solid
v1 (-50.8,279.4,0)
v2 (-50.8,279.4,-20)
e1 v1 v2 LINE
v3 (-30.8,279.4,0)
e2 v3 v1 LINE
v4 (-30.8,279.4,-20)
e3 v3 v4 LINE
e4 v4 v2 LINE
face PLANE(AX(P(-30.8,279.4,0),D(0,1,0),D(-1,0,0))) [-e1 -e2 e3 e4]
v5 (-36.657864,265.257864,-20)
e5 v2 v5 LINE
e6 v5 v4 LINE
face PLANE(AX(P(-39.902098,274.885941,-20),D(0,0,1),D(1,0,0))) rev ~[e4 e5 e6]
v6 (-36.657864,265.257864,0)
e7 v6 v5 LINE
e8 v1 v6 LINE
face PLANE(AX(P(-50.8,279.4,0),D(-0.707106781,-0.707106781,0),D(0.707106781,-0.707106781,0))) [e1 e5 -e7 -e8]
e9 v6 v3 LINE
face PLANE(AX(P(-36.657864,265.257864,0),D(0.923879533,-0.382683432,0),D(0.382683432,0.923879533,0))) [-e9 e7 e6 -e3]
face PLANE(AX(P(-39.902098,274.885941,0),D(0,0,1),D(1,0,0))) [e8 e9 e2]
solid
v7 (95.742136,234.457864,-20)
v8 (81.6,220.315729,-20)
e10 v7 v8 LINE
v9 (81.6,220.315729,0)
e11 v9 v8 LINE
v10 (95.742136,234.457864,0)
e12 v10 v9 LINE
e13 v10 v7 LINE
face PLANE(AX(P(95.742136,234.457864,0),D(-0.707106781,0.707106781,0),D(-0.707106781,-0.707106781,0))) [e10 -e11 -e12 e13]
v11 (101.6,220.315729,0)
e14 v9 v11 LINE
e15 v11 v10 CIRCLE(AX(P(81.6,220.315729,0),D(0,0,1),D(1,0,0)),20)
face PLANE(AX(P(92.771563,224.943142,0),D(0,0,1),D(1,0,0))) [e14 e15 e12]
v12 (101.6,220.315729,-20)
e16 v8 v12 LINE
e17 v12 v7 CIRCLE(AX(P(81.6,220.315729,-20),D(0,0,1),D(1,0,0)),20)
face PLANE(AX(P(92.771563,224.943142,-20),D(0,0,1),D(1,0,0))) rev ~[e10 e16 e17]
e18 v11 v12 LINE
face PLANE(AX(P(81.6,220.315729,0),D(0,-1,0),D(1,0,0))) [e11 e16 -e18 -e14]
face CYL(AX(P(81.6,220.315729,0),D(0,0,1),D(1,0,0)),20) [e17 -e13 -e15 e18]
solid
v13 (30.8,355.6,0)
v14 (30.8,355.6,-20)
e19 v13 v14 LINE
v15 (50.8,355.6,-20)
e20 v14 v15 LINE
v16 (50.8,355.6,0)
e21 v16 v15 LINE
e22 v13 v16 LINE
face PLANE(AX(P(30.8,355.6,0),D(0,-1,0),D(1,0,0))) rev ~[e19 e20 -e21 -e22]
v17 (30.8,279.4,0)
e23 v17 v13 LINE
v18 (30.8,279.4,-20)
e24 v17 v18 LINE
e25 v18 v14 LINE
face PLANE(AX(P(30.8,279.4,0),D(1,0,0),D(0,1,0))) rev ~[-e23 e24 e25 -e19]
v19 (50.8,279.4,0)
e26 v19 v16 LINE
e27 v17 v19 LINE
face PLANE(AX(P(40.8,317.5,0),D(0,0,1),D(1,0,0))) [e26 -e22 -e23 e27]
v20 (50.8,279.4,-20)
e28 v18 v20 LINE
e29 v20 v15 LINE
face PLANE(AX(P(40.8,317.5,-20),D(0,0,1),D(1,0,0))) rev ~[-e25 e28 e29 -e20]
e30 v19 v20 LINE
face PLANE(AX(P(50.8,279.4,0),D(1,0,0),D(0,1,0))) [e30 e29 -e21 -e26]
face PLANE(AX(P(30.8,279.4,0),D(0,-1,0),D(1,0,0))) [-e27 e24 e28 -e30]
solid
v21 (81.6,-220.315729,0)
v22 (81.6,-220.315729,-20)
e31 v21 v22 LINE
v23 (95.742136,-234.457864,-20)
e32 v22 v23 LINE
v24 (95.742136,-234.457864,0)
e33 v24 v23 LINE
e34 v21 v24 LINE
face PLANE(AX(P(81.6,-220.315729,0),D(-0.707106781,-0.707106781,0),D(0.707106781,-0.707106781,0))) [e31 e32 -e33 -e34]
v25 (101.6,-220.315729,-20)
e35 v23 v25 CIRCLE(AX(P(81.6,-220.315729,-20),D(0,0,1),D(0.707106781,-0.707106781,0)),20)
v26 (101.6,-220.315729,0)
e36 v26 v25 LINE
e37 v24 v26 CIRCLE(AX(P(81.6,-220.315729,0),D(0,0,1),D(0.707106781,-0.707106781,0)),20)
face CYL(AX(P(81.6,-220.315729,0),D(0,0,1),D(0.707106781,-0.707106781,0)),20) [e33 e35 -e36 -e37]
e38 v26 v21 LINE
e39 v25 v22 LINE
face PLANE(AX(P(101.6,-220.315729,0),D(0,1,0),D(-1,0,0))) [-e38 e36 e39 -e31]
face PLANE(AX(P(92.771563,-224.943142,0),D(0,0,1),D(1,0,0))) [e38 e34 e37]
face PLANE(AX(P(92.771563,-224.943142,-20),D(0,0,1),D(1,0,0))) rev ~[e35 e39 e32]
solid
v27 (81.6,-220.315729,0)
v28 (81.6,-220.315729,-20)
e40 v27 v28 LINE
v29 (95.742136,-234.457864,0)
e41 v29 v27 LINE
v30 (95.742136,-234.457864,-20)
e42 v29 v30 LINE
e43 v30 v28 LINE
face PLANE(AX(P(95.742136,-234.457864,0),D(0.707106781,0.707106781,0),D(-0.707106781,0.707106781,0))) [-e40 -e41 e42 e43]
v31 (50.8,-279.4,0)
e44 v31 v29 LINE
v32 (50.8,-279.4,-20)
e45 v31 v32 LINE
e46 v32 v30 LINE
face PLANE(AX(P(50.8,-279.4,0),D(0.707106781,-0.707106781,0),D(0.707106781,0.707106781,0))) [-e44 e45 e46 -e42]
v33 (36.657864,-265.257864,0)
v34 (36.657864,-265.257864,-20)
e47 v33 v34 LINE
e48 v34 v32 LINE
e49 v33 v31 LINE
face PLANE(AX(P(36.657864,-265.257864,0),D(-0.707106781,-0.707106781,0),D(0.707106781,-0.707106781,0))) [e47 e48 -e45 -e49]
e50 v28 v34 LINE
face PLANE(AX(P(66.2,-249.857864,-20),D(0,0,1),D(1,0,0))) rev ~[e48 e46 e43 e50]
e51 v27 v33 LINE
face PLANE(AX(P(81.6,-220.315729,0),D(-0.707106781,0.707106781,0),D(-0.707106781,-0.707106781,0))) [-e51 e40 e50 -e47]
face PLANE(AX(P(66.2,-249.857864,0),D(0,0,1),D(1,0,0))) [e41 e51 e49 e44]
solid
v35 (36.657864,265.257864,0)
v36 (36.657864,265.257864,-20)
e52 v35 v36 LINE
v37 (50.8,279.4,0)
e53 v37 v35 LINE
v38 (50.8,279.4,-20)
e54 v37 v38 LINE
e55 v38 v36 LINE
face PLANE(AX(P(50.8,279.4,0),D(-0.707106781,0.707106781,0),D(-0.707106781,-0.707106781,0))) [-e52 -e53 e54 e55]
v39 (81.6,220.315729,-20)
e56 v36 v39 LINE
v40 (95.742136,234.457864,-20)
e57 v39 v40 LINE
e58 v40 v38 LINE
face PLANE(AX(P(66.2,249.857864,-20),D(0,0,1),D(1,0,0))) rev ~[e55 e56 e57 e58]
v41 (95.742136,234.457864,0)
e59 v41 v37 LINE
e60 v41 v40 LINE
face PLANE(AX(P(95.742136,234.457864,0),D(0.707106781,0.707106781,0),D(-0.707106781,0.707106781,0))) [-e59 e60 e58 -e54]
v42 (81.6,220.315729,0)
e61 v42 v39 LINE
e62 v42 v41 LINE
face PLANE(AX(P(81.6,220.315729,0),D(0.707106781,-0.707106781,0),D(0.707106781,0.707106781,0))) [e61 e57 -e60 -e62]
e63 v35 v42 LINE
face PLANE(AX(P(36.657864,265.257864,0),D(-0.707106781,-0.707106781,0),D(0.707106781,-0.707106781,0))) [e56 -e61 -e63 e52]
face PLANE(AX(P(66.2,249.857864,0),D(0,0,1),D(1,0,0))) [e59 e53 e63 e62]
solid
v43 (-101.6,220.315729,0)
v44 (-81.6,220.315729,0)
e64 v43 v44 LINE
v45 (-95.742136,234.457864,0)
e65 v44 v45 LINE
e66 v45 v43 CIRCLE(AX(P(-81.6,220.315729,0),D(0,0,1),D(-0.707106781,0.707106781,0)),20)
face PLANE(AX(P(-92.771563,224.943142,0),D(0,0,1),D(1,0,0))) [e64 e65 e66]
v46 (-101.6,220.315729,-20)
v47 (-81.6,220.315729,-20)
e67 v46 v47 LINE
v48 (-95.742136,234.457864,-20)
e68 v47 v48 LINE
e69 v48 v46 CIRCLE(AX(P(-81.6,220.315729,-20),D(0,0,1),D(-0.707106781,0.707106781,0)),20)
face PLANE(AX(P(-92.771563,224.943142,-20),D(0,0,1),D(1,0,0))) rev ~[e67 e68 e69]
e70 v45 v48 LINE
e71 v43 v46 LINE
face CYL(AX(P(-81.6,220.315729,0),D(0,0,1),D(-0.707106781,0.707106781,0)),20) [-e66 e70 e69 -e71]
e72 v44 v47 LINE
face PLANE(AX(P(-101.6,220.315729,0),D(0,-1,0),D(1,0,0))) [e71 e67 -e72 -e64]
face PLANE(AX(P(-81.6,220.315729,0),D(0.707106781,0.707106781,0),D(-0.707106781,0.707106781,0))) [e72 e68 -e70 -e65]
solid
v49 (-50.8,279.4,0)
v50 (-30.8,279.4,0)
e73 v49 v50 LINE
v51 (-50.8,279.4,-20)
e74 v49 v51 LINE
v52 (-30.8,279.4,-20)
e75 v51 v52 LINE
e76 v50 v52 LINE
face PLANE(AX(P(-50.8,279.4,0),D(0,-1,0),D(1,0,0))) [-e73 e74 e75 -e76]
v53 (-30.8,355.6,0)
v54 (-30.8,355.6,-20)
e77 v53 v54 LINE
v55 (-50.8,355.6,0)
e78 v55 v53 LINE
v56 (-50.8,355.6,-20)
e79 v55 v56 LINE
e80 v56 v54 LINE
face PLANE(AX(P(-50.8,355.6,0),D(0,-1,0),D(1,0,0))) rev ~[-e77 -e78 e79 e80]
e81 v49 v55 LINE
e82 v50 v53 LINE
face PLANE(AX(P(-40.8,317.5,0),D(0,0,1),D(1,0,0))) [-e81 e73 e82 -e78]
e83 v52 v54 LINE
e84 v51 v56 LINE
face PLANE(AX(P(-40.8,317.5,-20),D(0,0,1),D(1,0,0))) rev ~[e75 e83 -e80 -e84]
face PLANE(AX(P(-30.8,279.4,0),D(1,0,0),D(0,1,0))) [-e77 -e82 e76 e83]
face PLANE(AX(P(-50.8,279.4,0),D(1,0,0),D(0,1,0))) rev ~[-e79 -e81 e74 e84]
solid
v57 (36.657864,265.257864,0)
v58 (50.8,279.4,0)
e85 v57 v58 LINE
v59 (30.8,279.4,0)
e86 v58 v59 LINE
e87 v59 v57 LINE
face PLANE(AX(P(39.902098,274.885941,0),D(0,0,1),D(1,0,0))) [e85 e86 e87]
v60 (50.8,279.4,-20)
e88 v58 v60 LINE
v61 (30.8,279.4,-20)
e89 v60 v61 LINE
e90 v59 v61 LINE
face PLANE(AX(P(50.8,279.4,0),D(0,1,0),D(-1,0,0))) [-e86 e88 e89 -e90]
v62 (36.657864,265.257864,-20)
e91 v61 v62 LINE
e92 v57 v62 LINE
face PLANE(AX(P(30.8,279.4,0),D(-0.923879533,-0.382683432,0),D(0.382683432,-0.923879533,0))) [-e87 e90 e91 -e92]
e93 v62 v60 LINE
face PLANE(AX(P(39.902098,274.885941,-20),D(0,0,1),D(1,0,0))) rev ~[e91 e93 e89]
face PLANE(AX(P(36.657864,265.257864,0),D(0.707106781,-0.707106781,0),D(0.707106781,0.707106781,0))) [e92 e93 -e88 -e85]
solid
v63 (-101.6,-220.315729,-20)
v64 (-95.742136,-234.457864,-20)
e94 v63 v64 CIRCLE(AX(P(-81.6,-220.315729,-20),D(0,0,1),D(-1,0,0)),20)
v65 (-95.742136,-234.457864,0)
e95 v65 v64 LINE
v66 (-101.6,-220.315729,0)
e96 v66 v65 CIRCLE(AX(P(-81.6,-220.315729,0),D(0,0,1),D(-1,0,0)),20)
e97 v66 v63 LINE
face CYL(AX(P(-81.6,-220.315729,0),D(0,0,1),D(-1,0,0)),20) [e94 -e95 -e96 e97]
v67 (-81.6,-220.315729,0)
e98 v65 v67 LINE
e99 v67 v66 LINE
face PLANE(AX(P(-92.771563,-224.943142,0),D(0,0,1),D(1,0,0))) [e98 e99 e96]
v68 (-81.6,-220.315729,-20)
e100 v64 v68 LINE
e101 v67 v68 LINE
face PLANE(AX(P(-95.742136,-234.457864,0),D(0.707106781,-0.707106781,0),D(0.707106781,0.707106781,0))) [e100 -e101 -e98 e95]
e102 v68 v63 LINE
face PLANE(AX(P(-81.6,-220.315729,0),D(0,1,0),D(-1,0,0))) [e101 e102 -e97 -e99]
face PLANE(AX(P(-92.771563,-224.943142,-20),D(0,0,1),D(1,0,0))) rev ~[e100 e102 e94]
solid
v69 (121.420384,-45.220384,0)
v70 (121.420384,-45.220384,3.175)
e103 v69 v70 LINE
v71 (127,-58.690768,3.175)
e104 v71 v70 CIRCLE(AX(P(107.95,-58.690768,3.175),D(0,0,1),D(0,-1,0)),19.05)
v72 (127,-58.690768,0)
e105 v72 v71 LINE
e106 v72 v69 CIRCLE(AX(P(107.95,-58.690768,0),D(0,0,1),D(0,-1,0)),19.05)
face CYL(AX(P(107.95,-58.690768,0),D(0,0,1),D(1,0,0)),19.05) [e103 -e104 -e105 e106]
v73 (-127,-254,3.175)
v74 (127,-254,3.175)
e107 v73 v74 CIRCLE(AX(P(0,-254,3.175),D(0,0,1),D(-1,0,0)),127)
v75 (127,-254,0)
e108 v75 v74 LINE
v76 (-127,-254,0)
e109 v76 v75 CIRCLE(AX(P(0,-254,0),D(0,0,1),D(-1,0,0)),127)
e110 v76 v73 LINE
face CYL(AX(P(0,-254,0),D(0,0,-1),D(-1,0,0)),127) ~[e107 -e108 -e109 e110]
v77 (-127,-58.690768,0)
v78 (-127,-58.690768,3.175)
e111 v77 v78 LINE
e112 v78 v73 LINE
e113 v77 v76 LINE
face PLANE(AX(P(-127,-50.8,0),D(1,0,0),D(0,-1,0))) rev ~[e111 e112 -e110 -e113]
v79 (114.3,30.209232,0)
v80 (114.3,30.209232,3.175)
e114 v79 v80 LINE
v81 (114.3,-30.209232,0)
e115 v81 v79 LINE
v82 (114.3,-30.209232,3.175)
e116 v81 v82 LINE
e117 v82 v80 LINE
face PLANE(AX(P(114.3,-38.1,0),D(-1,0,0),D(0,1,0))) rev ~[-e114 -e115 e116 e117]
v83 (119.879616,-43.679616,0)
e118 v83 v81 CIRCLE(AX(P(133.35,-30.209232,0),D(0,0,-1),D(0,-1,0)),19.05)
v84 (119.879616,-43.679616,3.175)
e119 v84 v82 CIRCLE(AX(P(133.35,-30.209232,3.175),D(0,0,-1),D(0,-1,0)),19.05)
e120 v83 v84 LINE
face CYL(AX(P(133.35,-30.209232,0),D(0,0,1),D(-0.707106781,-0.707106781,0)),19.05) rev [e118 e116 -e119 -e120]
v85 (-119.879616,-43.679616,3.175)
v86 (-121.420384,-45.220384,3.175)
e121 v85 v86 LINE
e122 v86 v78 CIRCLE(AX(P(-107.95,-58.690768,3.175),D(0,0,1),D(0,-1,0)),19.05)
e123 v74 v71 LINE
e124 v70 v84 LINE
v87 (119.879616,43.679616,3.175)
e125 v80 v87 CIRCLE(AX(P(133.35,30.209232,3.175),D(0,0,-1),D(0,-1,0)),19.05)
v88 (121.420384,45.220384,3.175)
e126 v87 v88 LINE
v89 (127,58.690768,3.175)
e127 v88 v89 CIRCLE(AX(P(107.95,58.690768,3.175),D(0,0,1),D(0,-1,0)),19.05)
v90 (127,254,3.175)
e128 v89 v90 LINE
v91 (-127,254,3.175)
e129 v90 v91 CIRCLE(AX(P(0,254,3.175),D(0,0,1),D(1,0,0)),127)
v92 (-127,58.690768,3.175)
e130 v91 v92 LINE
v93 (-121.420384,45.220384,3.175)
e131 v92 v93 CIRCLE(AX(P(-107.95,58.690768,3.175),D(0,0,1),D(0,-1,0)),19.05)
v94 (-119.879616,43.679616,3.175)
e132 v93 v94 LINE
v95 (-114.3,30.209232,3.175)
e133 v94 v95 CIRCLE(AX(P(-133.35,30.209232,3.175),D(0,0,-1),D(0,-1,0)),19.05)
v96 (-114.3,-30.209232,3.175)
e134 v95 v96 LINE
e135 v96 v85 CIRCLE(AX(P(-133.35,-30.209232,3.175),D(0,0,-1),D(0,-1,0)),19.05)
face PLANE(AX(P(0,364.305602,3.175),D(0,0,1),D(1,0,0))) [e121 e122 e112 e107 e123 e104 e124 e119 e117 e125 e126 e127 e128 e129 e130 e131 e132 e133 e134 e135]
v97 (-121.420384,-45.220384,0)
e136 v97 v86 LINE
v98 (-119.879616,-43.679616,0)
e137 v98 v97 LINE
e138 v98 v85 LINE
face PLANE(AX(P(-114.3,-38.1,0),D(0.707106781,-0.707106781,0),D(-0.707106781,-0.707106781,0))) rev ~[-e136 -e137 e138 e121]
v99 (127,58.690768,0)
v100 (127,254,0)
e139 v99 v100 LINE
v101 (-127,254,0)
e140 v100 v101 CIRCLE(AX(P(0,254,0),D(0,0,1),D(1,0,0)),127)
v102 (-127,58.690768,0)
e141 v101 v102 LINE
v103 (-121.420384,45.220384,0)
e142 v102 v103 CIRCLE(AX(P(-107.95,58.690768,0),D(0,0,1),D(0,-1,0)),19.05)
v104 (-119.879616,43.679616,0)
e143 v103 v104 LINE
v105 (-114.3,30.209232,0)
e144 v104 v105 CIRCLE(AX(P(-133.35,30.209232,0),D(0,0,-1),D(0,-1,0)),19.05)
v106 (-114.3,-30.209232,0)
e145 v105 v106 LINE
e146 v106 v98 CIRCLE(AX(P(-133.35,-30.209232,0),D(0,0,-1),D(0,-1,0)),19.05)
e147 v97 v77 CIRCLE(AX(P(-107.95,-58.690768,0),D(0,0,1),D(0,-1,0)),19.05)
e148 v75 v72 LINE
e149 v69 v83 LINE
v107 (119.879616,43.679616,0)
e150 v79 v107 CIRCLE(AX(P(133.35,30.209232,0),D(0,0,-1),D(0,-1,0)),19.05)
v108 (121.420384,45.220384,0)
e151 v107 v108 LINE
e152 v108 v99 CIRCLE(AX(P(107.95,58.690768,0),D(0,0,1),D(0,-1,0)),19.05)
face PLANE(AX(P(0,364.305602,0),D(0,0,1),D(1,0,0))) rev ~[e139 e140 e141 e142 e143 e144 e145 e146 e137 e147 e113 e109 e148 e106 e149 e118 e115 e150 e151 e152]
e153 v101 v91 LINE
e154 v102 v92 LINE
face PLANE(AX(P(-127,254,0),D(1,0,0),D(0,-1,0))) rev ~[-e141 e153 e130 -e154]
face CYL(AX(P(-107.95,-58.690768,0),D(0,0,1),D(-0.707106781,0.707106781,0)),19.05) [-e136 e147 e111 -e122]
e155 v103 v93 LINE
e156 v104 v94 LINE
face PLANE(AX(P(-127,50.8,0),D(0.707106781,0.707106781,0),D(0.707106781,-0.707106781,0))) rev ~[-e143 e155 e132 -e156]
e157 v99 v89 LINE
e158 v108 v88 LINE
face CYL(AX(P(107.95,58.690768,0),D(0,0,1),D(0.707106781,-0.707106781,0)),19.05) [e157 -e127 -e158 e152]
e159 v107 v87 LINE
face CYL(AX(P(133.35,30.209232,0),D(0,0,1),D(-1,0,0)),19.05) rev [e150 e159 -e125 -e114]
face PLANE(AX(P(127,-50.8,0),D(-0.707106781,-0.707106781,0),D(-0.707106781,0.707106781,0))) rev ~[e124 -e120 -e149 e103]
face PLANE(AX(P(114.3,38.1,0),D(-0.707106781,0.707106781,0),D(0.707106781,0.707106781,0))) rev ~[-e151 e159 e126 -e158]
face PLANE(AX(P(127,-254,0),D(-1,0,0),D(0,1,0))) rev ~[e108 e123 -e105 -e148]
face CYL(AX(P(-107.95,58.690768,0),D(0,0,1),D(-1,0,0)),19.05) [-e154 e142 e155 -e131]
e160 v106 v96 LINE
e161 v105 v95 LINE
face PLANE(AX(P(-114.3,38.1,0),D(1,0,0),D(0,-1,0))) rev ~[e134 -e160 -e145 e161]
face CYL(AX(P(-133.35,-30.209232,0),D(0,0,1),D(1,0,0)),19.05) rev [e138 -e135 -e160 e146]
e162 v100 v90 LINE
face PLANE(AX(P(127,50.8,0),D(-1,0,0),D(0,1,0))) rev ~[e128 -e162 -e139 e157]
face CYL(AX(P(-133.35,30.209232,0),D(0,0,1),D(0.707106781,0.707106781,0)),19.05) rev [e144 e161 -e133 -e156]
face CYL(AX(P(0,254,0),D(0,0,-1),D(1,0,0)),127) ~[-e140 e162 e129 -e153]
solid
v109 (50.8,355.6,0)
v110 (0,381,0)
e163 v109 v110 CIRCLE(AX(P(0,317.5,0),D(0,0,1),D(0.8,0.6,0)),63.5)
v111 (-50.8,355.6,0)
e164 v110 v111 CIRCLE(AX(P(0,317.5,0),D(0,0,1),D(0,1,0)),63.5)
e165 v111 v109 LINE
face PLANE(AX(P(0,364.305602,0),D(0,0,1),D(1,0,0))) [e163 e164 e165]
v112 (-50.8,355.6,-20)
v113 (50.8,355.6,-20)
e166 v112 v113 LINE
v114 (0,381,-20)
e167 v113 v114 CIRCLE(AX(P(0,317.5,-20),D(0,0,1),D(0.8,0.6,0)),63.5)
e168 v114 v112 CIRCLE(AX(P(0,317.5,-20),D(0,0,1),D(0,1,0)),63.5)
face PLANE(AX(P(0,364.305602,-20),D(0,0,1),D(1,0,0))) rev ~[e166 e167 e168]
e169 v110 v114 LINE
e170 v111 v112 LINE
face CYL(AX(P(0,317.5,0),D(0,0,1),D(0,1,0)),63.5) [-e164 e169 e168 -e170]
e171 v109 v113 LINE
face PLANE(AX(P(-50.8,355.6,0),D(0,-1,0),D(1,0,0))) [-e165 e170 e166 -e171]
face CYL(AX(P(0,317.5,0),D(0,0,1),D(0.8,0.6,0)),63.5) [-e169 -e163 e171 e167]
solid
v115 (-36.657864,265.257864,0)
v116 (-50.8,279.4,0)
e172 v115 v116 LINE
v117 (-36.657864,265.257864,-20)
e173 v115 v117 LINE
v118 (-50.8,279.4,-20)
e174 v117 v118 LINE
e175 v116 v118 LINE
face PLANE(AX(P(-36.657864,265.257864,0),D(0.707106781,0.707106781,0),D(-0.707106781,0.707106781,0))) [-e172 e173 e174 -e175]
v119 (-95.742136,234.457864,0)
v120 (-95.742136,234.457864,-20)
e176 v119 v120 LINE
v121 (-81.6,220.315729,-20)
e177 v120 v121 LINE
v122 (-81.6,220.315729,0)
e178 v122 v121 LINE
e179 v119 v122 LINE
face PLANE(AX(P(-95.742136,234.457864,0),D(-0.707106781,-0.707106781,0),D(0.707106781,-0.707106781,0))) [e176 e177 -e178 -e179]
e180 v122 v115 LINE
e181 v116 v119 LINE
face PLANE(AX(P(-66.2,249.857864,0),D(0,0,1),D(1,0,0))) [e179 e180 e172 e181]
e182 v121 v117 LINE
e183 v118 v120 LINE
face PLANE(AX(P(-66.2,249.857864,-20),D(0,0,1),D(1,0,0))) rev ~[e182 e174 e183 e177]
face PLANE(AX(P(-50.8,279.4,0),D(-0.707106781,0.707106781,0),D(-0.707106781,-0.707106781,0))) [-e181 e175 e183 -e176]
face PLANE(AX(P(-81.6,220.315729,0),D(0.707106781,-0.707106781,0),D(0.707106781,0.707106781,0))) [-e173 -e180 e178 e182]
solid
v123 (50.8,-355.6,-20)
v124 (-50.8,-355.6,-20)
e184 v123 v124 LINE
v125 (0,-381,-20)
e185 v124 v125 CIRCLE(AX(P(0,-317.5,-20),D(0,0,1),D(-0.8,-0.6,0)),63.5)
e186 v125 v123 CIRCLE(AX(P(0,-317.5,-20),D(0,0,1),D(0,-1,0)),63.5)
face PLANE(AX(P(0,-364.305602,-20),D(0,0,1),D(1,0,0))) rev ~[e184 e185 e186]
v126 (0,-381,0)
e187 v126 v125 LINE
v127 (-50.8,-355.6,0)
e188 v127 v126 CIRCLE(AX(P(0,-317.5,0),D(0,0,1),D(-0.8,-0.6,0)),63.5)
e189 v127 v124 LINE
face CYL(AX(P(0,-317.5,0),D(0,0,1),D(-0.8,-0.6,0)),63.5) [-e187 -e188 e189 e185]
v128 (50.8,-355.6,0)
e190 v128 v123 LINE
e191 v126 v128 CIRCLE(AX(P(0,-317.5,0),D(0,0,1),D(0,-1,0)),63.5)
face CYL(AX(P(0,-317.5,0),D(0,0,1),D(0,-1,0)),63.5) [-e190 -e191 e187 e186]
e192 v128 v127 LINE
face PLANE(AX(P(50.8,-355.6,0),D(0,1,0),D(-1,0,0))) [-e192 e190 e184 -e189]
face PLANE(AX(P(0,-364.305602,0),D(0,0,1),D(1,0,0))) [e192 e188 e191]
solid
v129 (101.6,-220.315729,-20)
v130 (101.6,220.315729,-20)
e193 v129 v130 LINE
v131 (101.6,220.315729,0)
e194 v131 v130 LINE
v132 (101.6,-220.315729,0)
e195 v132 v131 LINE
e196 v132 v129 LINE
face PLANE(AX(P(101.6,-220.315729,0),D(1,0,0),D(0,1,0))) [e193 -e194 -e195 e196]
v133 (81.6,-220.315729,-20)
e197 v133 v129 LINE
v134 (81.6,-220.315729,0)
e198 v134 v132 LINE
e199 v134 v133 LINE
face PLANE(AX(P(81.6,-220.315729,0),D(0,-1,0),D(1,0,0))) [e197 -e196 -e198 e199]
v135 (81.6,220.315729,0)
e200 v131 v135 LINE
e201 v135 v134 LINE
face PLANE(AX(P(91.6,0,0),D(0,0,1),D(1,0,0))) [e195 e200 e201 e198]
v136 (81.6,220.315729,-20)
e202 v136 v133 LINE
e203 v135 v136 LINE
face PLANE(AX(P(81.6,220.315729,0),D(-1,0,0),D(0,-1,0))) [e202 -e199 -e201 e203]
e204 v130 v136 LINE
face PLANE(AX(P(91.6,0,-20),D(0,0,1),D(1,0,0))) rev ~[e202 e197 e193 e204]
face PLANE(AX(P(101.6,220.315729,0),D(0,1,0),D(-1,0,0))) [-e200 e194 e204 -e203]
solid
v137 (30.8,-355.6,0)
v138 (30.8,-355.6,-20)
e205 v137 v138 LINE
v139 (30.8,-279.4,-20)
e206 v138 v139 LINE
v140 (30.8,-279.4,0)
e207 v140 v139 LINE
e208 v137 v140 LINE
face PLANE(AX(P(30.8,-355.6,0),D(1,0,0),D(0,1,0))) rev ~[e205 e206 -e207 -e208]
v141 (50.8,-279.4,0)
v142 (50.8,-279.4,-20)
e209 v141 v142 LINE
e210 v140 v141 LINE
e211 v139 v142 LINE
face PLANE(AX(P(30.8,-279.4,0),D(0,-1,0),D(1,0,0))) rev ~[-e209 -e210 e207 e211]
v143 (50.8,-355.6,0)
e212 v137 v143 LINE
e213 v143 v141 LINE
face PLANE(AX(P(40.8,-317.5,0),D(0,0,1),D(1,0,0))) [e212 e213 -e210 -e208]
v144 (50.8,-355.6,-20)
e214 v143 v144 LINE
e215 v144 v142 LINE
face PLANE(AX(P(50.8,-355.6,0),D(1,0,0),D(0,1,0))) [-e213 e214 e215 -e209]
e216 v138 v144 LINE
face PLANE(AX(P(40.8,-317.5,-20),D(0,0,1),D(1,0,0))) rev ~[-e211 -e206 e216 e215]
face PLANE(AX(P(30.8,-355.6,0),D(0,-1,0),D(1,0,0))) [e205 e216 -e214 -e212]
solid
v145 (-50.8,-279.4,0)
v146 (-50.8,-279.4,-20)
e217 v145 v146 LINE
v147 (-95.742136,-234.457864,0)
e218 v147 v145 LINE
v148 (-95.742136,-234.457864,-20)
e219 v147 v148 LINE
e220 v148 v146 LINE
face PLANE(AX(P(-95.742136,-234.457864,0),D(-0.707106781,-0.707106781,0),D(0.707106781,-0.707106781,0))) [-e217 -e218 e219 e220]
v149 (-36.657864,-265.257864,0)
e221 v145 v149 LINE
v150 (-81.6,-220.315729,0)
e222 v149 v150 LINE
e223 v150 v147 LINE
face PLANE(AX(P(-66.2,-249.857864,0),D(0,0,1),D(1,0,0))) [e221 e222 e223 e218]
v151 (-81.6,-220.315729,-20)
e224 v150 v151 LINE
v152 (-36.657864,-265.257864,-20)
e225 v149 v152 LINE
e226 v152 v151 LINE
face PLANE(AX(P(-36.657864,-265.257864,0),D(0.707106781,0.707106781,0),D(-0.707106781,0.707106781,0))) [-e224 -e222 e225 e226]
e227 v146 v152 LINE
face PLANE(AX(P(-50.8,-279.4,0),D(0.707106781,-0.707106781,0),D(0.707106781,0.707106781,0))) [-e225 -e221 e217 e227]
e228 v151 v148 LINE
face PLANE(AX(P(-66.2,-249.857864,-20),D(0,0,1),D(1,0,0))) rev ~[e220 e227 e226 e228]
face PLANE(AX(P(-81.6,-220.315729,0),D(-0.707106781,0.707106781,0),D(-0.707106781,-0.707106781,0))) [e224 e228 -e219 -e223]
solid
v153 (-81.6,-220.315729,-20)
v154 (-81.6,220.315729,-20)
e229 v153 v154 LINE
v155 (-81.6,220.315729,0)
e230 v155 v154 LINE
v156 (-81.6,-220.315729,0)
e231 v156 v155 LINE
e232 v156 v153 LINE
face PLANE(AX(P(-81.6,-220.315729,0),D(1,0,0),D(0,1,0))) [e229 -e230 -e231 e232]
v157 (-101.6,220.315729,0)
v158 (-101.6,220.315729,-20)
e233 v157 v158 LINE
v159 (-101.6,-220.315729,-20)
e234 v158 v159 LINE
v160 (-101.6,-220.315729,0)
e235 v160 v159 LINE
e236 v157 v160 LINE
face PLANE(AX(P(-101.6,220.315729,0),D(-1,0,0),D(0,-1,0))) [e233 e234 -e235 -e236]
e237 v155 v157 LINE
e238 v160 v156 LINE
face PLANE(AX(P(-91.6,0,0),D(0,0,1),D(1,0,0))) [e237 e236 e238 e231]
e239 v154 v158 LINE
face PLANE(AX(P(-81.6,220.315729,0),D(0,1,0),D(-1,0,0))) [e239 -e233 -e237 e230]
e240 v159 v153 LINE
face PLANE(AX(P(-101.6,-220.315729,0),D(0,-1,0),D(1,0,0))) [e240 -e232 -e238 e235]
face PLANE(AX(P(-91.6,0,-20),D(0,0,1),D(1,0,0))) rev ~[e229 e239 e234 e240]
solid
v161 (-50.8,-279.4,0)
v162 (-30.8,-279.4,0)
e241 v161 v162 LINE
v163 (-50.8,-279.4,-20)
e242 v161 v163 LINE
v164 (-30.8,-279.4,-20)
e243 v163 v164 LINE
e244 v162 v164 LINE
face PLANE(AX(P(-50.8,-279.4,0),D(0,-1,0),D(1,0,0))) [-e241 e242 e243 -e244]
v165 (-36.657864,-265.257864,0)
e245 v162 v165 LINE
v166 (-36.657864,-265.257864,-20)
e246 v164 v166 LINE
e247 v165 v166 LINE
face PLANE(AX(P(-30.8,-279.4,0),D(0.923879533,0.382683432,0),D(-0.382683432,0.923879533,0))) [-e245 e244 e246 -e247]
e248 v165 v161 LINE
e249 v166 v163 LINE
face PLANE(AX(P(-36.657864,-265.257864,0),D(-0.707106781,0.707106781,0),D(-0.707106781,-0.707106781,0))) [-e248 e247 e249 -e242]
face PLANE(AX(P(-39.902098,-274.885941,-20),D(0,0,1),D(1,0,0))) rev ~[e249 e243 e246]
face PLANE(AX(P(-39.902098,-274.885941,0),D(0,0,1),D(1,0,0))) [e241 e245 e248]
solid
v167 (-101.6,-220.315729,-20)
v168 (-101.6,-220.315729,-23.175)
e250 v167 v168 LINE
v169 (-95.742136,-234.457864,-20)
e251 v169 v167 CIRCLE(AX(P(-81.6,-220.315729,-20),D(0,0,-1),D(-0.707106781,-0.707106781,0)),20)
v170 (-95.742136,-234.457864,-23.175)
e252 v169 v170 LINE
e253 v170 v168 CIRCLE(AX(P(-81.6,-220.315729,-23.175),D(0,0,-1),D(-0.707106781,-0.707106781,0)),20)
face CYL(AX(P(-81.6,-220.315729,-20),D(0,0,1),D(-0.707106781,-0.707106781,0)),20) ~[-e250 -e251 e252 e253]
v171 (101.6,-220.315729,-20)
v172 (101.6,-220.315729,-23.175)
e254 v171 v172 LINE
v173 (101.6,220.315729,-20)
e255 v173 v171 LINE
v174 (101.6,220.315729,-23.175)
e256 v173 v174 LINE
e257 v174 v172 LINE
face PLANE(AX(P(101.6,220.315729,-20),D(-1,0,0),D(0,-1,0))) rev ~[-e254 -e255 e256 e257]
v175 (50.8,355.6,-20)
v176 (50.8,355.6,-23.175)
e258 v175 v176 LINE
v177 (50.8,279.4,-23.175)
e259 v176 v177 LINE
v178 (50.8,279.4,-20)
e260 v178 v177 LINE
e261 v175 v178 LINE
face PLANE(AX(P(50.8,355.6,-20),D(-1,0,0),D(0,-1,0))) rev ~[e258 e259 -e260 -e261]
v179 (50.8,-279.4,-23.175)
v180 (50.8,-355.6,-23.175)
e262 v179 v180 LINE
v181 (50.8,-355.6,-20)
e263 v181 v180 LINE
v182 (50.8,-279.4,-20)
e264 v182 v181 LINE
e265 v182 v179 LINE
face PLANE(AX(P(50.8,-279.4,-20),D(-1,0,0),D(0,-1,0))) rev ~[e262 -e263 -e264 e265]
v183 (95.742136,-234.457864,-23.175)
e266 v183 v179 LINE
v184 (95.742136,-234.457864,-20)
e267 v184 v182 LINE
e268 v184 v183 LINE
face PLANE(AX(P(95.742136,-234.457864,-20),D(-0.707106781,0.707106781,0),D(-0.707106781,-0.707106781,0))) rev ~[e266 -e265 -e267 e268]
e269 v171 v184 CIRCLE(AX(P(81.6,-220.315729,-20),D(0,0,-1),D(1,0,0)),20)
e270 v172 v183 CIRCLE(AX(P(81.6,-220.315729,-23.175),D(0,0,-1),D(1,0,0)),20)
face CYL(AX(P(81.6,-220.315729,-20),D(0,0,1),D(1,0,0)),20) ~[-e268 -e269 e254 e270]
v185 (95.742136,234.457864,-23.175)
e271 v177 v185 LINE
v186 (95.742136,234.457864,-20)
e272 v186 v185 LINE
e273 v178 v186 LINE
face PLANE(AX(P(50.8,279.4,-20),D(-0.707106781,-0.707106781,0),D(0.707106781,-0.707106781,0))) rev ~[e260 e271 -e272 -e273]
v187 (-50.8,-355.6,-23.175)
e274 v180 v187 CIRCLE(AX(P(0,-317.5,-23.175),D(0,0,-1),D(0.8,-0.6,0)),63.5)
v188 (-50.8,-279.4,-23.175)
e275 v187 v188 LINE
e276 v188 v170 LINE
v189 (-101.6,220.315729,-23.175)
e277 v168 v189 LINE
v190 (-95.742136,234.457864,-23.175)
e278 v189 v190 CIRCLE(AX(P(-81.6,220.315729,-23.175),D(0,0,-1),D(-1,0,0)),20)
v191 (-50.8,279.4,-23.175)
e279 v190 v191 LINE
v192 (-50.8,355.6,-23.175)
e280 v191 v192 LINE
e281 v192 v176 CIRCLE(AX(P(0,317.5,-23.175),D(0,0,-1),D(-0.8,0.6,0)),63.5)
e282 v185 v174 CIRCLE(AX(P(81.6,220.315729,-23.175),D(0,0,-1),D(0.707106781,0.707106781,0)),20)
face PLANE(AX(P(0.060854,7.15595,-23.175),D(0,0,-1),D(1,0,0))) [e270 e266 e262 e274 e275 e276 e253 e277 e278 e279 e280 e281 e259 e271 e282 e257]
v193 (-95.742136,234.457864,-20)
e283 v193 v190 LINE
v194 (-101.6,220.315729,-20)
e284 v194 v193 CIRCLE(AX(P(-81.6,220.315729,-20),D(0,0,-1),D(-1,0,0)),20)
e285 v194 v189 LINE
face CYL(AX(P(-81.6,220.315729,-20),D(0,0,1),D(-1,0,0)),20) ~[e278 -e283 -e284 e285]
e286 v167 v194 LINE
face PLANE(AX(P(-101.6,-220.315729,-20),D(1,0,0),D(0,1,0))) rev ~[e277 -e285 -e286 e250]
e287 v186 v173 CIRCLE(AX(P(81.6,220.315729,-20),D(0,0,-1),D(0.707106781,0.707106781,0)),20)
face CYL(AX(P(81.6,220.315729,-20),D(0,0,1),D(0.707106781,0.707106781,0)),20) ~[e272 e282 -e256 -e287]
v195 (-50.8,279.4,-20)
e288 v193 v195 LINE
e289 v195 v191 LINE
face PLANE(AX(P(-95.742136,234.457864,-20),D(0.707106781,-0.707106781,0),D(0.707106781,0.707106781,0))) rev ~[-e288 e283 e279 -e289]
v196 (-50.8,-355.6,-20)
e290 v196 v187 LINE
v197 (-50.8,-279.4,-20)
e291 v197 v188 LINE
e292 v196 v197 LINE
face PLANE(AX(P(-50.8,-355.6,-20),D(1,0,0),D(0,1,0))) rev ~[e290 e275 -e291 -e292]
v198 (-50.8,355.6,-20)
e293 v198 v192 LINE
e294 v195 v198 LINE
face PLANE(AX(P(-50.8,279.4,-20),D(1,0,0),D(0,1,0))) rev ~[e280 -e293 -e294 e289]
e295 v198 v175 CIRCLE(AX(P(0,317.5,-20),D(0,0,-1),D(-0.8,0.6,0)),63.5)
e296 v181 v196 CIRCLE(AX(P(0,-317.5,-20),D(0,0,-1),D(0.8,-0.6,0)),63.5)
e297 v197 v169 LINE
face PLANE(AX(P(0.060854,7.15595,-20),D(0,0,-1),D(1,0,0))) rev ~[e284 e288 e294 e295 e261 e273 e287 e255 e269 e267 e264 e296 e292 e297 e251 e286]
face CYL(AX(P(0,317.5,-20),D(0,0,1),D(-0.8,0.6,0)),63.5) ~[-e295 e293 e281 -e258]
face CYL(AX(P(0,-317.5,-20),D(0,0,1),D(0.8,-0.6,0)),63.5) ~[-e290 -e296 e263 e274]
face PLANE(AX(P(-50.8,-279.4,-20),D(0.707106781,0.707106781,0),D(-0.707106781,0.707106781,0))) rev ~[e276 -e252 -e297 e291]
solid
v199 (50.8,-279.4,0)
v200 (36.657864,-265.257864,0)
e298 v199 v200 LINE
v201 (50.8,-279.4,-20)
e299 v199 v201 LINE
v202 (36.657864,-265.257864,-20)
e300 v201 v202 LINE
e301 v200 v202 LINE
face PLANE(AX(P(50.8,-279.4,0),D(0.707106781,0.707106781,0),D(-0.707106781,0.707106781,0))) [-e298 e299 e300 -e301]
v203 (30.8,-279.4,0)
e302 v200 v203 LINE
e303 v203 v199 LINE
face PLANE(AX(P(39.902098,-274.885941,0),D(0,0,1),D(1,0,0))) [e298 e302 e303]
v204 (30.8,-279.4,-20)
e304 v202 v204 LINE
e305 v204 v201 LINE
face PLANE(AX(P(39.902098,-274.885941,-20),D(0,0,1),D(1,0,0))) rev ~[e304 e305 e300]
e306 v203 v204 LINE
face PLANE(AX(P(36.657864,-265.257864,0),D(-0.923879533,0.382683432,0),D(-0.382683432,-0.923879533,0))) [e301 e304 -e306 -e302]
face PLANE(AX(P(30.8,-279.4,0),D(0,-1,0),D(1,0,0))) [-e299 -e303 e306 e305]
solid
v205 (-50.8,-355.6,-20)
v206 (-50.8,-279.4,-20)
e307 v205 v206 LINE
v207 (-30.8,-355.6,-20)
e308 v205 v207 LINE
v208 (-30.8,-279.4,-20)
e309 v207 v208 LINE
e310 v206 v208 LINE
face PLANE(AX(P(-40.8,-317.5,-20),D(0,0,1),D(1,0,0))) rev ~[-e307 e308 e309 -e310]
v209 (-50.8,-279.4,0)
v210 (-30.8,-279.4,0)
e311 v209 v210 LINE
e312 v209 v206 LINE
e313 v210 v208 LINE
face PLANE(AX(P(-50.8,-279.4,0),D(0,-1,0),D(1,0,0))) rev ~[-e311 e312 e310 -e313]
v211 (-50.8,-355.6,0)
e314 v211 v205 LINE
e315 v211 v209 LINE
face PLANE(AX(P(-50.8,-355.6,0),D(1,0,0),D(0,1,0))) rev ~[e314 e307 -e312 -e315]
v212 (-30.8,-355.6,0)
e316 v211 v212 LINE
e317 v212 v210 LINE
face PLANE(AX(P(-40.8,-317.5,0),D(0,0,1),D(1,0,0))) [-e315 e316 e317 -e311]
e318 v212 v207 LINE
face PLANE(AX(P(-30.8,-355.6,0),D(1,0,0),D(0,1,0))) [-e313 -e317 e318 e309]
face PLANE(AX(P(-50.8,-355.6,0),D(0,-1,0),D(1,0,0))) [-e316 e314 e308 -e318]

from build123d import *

# Parameters (mm, degrees)
F0_W     = 20
F0_H     = 76.2
F1_DEPTH = 3.175
F2_DEPTH = 20
F3_DEPTH = 20
F4_R     = 19.05
F5_W     = 20
F5_H     = 76.2
F6_DEPTH = 3.175


with BuildPart() as f1:
    # F0 (on Top) → F1 (new body)
    with BuildSketch(Plane.XY):
        with BuildLine():
            ThreePointArc((0, 381), (-28.3980633142, 374.2961266285), (-50.8, 355.6))
            Line((-50.8, 355.6), (-30.8, 355.6))
            Line((-30.8, 355.6), (30.8, 355.6))
            Line((30.8, 355.6), (50.8, 355.6))
            ThreePointArc((50.8, 355.6), (28.3980633142, 374.2961266285), (0, 381))
        make_face()
        with BuildLine():
            Line((-50.8, 279.4), (-50.8, 355.6))
            ThreePointArc((-50.8, 355.6), (-28.3980633142, 374.2961266285), (0, 381))
            ThreePointArc((0, 381), (-89.8025612107, 343.8025612107), (-127, 254))
            Line((-127, 254), (-127, 50.8))
            Line((-127, 50.8), (-114.3, 38.1))
            Line((-114.3, 38.1), (-114.3, 0))
            Line((-114.3, 0), (-114.3, -38.1))
            Line((-114.3, -38.1), (-127, -50.8))
            Line((-127, -50.8), (-127, -254))
            ThreePointArc((-127, -254), (-89.8025612107, -343.8025612107), (0, -381))
            ThreePointArc((0, -381), (-28.3980633142, -374.2961266285), (-50.8, -355.6))
            Line((-50.8, -355.6), (-50.8, -279.4))
            Line((-50.8, -279.4), (-95.7421356237, -234.4578643763))
            ThreePointArc((-95.7421356237, -234.4578643763), (-100.0775906502, -227.9693973998), (-101.6, -220.3157287525))
            Line((-101.6, -220.3157287525), (-101.6, 0))
            Line((-101.6, 0), (-101.6, 220.3157287525))
            ThreePointArc((-101.6, 220.3157287525), (-100.0775906502, 227.9693973998), (-95.7421356237, 234.4578643763))
            Line((-95.7421356237, 234.4578643763), (-50.8, 279.4))
        make_face()
        with BuildLine():
            ThreePointArc((127, 254), (89.8025612107, 343.8025612107), (0, 381))
            ThreePointArc((0, 381), (28.3980633142, 374.2961266285), (50.8, 355.6))
            Line((50.8, 355.6), (50.8, 279.4))
            Line((50.8, 279.4), (95.7421356237, 234.4578643763))
            ThreePointArc((95.7421356237, 234.4578643763), (100.0775906502, 227.9693973998), (101.6, 220.3157287525))
            Line((101.6, 220.3157287525), (101.6, 0))
            Line((101.6, 0), (101.6, -220.3157287525))
            ThreePointArc((101.6, -220.3157287525), (100.0775906502, -227.9693973998), (95.7421356237, -234.4578643763))
            Line((95.7421356237, -234.4578643763), (50.8, -279.4))
            Line((50.8, -279.4), (50.8, -355.6))
            ThreePointArc((50.8, -355.6), (28.3980633142, -374.2961266285), (0, -381))
            ThreePointArc((0, -381), (89.8025612107, -343.8025612107), (127, -254))
            Line((127, -254), (127, -50.8))
            Line((127, -50.8), (114.3, -38.1))
            Line((114.3, -38.1), (114.3, 0))
            Line((114.3, 0), (114.3, 38.1))
            Line((114.3, 38.1), (127, 50.8))
            Line((127, 50.8), (127, 254))
        make_face()
        with BuildLine():
            Line((-30.8, -355.6), (-50.8, -355.6))
            ThreePointArc((-50.8, -355.6), (-28.3980633142, -374.2961266285), (0, -381))
            ThreePointArc((0, -381), (28.3980633142, -374.2961266285), (50.8, -355.6))
            Line((50.8, -355.6), (30.8, -355.6))
            Line((30.8, -355.6), (-30.8, -355.6))
        make_face()
        Polygon((30.8, 355.6), (-30.8, 355.6), (-30.8, 279.4), (-36.6578643763, 265.2578643763), (-81.6, 220.3157287525), (-81.6, 0), (-81.6, -220.3157287525), (-36.6578643763, -265.2578643763), (-30.8, -279.4), (-30.8, -355.6), (30.8, -355.6), (30.8, -279.4), (36.6578643763, -265.2578643763), (81.6, -220.3157287525), (81.6, 0), (81.6, 220.3157287525), (36.6578643763, 265.2578643763), (30.8, 279.4), align=None)
        with Locations((-40.8, 317.5)):
            Rectangle(F0_W, F0_H)
        Polygon((-30.8, 279.4), (-50.8, 279.4), (-36.6578643763, 265.2578643763), align=None)
        Polygon((-36.6578643763, 265.2578643763), (-50.8, 279.4), (-95.7421356237, 234.4578643763), (-81.6, 220.3157287525), align=None)
        with BuildLine():
            Line((-81.6, 220.3157287525), (-95.7421356237, 234.4578643763))
            ThreePointArc((-95.7421356237, 234.4578643763), (-100.0775906502, 227.9693973998), (-101.6, 220.3157287525))
            Line((-101.6, 220.3157287525), (-81.6, 220.3157287525))
        make_face()
        with Locations((40.8, 317.5)):
            Rectangle(F0_W, F0_H)
        Polygon((50.8, 279.4), (30.8, 279.4), (36.6578643763, 265.2578643763), align=None)
        Polygon((95.7421356237, 234.4578643763), (50.8, 279.4), (36.6578643763, 265.2578643763), (81.6, 220.3157287525), align=None)
        with BuildLine():
            ThreePointArc((101.6, 220.3157287525), (100.0775906502, 227.9693973998), (95.7421356237, 234.4578643763))
            Line((95.7421356237, 234.4578643763), (81.6, 220.3157287525))
            Line((81.6, 220.3157287525), (101.6, 220.3157287525))
        make_face()
        with BuildLine():
            Line((-95.7421356237, -234.4578643763), (-81.6, -220.3157287525))
            Line((-81.6, -220.3157287525), (-101.6, -220.3157287525))
            ThreePointArc((-101.6, -220.3157287525), (-100.0775906502, -227.9693973998), (-95.7421356237, -234.4578643763))
        make_face()
        Polygon((-36.6578643763, -265.2578643763), (-81.6, -220.3157287525), (-95.7421356237, -234.4578643763), (-50.8, -279.4), align=None)
        Polygon((-30.8, -279.4), (-36.6578643763, -265.2578643763), (-50.8, -279.4), align=None)
        with Locations((-40.8, -317.5)):
            Rectangle(F0_W, F0_H)
        with Locations((40.8, -317.5)):
            Rectangle(F0_W, F0_H)
        Polygon((50.8, -279.4), (36.6578643763, -265.2578643763), (30.8, -279.4), align=None)
        Polygon((95.7421356237, -234.4578643763), (81.6, -220.3157287525), (36.6578643763, -265.2578643763), (50.8, -279.4), align=None)
        with BuildLine():
            Line((101.6, -220.3157287525), (81.6, -220.3157287525))
            Line((81.6, -220.3157287525), (95.7421356237, -234.4578643763))
            ThreePointArc((95.7421356237, -234.4578643763), (100.0775906502, -227.9693973998), (101.6, -220.3157287525))
        make_face()
        Polygon((-81.6, 0), (-81.6, 220.3157287525), (-101.6, 220.3157287525), (-101.6, 0), (-101.6, -220.3157287525), (-81.6, -220.3157287525), align=None)
        Polygon((101.6, 220.3157287525), (81.6, 220.3157287525), (81.6, 0), (81.6, -220.3157287525), (101.6, -220.3157287525), (101.6, 0), align=None)
    extrude(amount=F1_DEPTH)

    # F4
    f4_edges = [f1.edges().sort_by_distance(p)[0] for p in [
        (127, -50.8, 1.5875),
        (114.3, -38.1, 1.5875),
        (114.3, 38.1, 1.5875),
        (127, 50.8, 1.5875),
        (-127, -50.8, 1.5875),
        (-114.3, -38.1, 1.5875),
        (-114.3, 38.1, 1.5875),
        (-127, 50.8, 1.5875),
    ]]
    fillet(f4_edges, radius=F4_R)


with BuildPart() as f2:
    # F0 (on Top) → F2 (new body)
    with BuildSketch(Plane.XY):
        with Locations((-40.8, 317.5)):
            Rectangle(F0_W, F0_H)
    extrude(amount=-F2_DEPTH)


with BuildPart() as f2b:
    # F0 (on Top) → F2, piece 2 (new body)
    with BuildSketch(Plane.XY):
        with Locations((40.8, 317.5)):
            Rectangle(F0_W, F0_H)
    extrude(amount=-F2_DEPTH)


with BuildPart() as f2c:
    # F0 (on Top) → F2, piece 3 (new body)
    with BuildSketch(Plane.XY):
        Polygon((95.7421356237, 234.4578643763), (50.8, 279.4), (36.6578643763, 265.2578643763), (81.6, 220.3157287525), align=None)
    extrude(amount=-F2_DEPTH)


with BuildPart() as f2d:
    # F0 (on Top) → F2, piece 4 (new body)
    with BuildSketch(Plane.XY):
        Polygon((-36.6578643763, 265.2578643763), (-50.8, 279.4), (-95.7421356237, 234.4578643763), (-81.6, 220.3157287525), align=None)
    extrude(amount=-F2_DEPTH)


with BuildPart() as f2e:
    # F0 (on Top) → F2, piece 5 (new body)
    with BuildSketch(Plane.XY):
        Polygon((-81.6, 0), (-81.6, 220.3157287525), (-101.6, 220.3157287525), (-101.6, 0), (-101.6, -220.3157287525), (-81.6, -220.3157287525), align=None)
    extrude(amount=-F2_DEPTH)


with BuildPart() as f2f:
    # F0 (on Top) → F2, piece 6 (new body)
    with BuildSketch(Plane.XY):
        Polygon((101.6, 220.3157287525), (81.6, 220.3157287525), (81.6, 0), (81.6, -220.3157287525), (101.6, -220.3157287525), (101.6, 0), align=None)
    extrude(amount=-F2_DEPTH)


with BuildPart() as f2g:
    # F0 (on Top) → F2, piece 7 (new body)
    with BuildSketch(Plane.XY):
        Polygon((-36.6578643763, -265.2578643763), (-81.6, -220.3157287525), (-95.7421356237, -234.4578643763), (-50.8, -279.4), align=None)
    extrude(amount=-F2_DEPTH)


with BuildPart() as f2h:
    # F0 (on Top) → F2, piece 8 (new body)
    with BuildSketch(Plane.XY):
        Polygon((95.7421356237, -234.4578643763), (81.6, -220.3157287525), (36.6578643763, -265.2578643763), (50.8, -279.4), align=None)
    extrude(amount=-F2_DEPTH)


with BuildPart() as f2i:
    # F0 (on Top) → F2, piece 9 (new body)
    with BuildSketch(Plane.XY):
        with Locations((40.8, -317.5)):
            Rectangle(F0_W, F0_H)
    extrude(amount=-F2_DEPTH)


with BuildPart() as f2j:
    # F0 (on Top) → F2, piece 10 (new body)
    with BuildSketch(Plane.XY):
        with Locations((-40.8, -317.5)):
            Rectangle(F0_W, F0_H)
    extrude(amount=-F2_DEPTH)


with BuildPart() as f3:
    # F0 (on Top) → F3 (new body)
    with BuildSketch(Plane.XY):
        with BuildLine():
            ThreePointArc((0, 381), (-28.3980633142, 374.2961266285), (-50.8, 355.6))
            Line((-50.8, 355.6), (-30.8, 355.6))
            Line((-30.8, 355.6), (30.8, 355.6))
            Line((30.8, 355.6), (50.8, 355.6))
            ThreePointArc((50.8, 355.6), (28.3980633142, 374.2961266285), (0, 381))
        make_face()
    extrude(amount=-F3_DEPTH)


with BuildPart() as f3b:
    # F0 (on Top) → F3, piece 2 (new body)
    with BuildSketch(Plane.XY):
        Polygon((50.8, 279.4), (30.8, 279.4), (36.6578643763, 265.2578643763), align=None)
    extrude(amount=-F3_DEPTH)


with BuildPart() as f3c:
    # F0 (on Top) → F3, piece 3 (new body)
    with BuildSketch(Plane.XY):
        with BuildLine():
            ThreePointArc((101.6, 220.3157287525), (100.0775906502, 227.9693973998), (95.7421356237, 234.4578643763))
            Line((95.7421356237, 234.4578643763), (81.6, 220.3157287525))
            Line((81.6, 220.3157287525), (101.6, 220.3157287525))
        make_face()
    extrude(amount=-F3_DEPTH)


with BuildPart() as f3d:
    # F0 (on Top) → F3, piece 4 (new body)
    with BuildSketch(Plane.XY):
        with BuildLine():
            Line((-81.6, 220.3157287525), (-95.7421356237, 234.4578643763))
            ThreePointArc((-95.7421356237, 234.4578643763), (-100.0775906502, 227.9693973998), (-101.6, 220.3157287525))
            Line((-101.6, 220.3157287525), (-81.6, 220.3157287525))
        make_face()
    extrude(amount=-F3_DEPTH)


with BuildPart() as f3e:
    # F0 (on Top) → F3, piece 5 (new body)
    with BuildSketch(Plane.XY):
        Polygon((-30.8, 279.4), (-50.8, 279.4), (-36.6578643763, 265.2578643763), align=None)
    extrude(amount=-F3_DEPTH)


with BuildPart() as f3f:
    # F0 (on Top) → F3, piece 6 (new body)
    with BuildSketch(Plane.XY):
        with BuildLine():
            Line((101.6, -220.3157287525), (81.6, -220.3157287525))
            Line((81.6, -220.3157287525), (95.7421356237, -234.4578643763))
            ThreePointArc((95.7421356237, -234.4578643763), (100.0775906502, -227.9693973998), (101.6, -220.3157287525))
        make_face()
    extrude(amount=-F3_DEPTH)


with BuildPart() as f3g:
    # F0 (on Top) → F3, piece 7 (new body)
    with BuildSketch(Plane.XY):
        with BuildLine():
            Line((-30.8, -355.6), (-50.8, -355.6))
            ThreePointArc((-50.8, -355.6), (-28.3980633142, -374.2961266285), (0, -381))
            ThreePointArc((0, -381), (28.3980633142, -374.2961266285), (50.8, -355.6))
            Line((50.8, -355.6), (30.8, -355.6))
            Line((30.8, -355.6), (-30.8, -355.6))
        make_face()
    extrude(amount=-F3_DEPTH)


with BuildPart() as f3h:
    # F0 (on Top) → F3, piece 8 (new body)
    with BuildSketch(Plane.XY):
        Polygon((50.8, -279.4), (36.6578643763, -265.2578643763), (30.8, -279.4), align=None)
    extrude(amount=-F3_DEPTH)


with BuildPart() as f3i:
    # F0 (on Top) → F3, piece 9 (new body)
    with BuildSketch(Plane.XY):
        Polygon((-30.8, -279.4), (-36.6578643763, -265.2578643763), (-50.8, -279.4), align=None)
    extrude(amount=-F3_DEPTH)


with BuildPart() as f3j:
    # F0 (on Top) → F3, piece 10 (new body)
    with BuildSketch(Plane.XY):
        with BuildLine():
            Line((-95.7421356237, -234.4578643763), (-81.6, -220.3157287525))
            Line((-81.6, -220.3157287525), (-101.6, -220.3157287525))
            ThreePointArc((-101.6, -220.3157287525), (-100.0775906502, -227.9693973998), (-95.7421356237, -234.4578643763))
        make_face()
    extrude(amount=-F3_DEPTH)


with BuildPart() as f6:
    # F5 (on face) → F6 (new body)
    with BuildSketch(Plane(origin=(0, 0, -20), x_dir=(1, 0, 0), z_dir=(0, 0, -1))):
        with BuildLine():
            ThreePointArc((-50.8, -355.6), (0, -381), (50.8, -355.6))
            Line((50.8, -355.6), (30.8, -355.6))
            Line((30.8, -355.6), (30.8, -279.4))
            Line((30.8, -279.4), (50.8, -279.4))
            Line((50.8, -279.4), (95.7421356237, -234.4578643763))
            ThreePointArc((95.7421356237, -234.4578643763), (100.0775906502, -227.9693973998), (101.6, -220.3157287525))
            Line((101.6, -220.3157287525), (101.6, 220.3157287525))
            ThreePointArc((101.6, 220.3157287525), (100.0775906502, 227.9693973998), (95.7421356237, 234.4578643763))
            Line((95.7421356237, 234.4578643763), (50.8, 279.4))
            Line((50.8, 279.4), (50.8, 355.6))
            ThreePointArc((50.8, 355.6), (0, 381), (-50.8, 355.6))
            Line((-50.8, 355.6), (-50.8, 279.4))
            Line((-50.8, 279.4), (-95.7421356237, 234.4578643763))
            ThreePointArc((-95.7421356237, 234.4578643763), (-100.0775906502, 227.9693973998), (-101.6, 220.3157287525))
            Line((-101.6, 220.3157287525), (-101.6, -220.3157287525))
            ThreePointArc((-101.6, -220.3157287525), (-100.0775906502, -227.9693973998), (-95.7421356237, -234.4578643763))
            Line((-95.7421356237, -234.4578643763), (-50.8, -279.4))
            Line((-50.8, -279.4), (-50.8, -355.6))
        make_face()
        with Locations((40.8, -317.5)):
            Rectangle(F5_W, F5_H)
    extrude(amount=F6_DEPTH)


solid = Compound([f1.part, f2.part, f2b.part, f2c.part, f2d.part, f2e.part, f2f.part, f2g.part, f2h.part, f2i.part, f2j.part, f3.part, f3b.part, f3c.part, f3d.part, f3e.part, f3f.part, f3g.part, f3h.part, f3i.part, f3j.part, f6.part])
